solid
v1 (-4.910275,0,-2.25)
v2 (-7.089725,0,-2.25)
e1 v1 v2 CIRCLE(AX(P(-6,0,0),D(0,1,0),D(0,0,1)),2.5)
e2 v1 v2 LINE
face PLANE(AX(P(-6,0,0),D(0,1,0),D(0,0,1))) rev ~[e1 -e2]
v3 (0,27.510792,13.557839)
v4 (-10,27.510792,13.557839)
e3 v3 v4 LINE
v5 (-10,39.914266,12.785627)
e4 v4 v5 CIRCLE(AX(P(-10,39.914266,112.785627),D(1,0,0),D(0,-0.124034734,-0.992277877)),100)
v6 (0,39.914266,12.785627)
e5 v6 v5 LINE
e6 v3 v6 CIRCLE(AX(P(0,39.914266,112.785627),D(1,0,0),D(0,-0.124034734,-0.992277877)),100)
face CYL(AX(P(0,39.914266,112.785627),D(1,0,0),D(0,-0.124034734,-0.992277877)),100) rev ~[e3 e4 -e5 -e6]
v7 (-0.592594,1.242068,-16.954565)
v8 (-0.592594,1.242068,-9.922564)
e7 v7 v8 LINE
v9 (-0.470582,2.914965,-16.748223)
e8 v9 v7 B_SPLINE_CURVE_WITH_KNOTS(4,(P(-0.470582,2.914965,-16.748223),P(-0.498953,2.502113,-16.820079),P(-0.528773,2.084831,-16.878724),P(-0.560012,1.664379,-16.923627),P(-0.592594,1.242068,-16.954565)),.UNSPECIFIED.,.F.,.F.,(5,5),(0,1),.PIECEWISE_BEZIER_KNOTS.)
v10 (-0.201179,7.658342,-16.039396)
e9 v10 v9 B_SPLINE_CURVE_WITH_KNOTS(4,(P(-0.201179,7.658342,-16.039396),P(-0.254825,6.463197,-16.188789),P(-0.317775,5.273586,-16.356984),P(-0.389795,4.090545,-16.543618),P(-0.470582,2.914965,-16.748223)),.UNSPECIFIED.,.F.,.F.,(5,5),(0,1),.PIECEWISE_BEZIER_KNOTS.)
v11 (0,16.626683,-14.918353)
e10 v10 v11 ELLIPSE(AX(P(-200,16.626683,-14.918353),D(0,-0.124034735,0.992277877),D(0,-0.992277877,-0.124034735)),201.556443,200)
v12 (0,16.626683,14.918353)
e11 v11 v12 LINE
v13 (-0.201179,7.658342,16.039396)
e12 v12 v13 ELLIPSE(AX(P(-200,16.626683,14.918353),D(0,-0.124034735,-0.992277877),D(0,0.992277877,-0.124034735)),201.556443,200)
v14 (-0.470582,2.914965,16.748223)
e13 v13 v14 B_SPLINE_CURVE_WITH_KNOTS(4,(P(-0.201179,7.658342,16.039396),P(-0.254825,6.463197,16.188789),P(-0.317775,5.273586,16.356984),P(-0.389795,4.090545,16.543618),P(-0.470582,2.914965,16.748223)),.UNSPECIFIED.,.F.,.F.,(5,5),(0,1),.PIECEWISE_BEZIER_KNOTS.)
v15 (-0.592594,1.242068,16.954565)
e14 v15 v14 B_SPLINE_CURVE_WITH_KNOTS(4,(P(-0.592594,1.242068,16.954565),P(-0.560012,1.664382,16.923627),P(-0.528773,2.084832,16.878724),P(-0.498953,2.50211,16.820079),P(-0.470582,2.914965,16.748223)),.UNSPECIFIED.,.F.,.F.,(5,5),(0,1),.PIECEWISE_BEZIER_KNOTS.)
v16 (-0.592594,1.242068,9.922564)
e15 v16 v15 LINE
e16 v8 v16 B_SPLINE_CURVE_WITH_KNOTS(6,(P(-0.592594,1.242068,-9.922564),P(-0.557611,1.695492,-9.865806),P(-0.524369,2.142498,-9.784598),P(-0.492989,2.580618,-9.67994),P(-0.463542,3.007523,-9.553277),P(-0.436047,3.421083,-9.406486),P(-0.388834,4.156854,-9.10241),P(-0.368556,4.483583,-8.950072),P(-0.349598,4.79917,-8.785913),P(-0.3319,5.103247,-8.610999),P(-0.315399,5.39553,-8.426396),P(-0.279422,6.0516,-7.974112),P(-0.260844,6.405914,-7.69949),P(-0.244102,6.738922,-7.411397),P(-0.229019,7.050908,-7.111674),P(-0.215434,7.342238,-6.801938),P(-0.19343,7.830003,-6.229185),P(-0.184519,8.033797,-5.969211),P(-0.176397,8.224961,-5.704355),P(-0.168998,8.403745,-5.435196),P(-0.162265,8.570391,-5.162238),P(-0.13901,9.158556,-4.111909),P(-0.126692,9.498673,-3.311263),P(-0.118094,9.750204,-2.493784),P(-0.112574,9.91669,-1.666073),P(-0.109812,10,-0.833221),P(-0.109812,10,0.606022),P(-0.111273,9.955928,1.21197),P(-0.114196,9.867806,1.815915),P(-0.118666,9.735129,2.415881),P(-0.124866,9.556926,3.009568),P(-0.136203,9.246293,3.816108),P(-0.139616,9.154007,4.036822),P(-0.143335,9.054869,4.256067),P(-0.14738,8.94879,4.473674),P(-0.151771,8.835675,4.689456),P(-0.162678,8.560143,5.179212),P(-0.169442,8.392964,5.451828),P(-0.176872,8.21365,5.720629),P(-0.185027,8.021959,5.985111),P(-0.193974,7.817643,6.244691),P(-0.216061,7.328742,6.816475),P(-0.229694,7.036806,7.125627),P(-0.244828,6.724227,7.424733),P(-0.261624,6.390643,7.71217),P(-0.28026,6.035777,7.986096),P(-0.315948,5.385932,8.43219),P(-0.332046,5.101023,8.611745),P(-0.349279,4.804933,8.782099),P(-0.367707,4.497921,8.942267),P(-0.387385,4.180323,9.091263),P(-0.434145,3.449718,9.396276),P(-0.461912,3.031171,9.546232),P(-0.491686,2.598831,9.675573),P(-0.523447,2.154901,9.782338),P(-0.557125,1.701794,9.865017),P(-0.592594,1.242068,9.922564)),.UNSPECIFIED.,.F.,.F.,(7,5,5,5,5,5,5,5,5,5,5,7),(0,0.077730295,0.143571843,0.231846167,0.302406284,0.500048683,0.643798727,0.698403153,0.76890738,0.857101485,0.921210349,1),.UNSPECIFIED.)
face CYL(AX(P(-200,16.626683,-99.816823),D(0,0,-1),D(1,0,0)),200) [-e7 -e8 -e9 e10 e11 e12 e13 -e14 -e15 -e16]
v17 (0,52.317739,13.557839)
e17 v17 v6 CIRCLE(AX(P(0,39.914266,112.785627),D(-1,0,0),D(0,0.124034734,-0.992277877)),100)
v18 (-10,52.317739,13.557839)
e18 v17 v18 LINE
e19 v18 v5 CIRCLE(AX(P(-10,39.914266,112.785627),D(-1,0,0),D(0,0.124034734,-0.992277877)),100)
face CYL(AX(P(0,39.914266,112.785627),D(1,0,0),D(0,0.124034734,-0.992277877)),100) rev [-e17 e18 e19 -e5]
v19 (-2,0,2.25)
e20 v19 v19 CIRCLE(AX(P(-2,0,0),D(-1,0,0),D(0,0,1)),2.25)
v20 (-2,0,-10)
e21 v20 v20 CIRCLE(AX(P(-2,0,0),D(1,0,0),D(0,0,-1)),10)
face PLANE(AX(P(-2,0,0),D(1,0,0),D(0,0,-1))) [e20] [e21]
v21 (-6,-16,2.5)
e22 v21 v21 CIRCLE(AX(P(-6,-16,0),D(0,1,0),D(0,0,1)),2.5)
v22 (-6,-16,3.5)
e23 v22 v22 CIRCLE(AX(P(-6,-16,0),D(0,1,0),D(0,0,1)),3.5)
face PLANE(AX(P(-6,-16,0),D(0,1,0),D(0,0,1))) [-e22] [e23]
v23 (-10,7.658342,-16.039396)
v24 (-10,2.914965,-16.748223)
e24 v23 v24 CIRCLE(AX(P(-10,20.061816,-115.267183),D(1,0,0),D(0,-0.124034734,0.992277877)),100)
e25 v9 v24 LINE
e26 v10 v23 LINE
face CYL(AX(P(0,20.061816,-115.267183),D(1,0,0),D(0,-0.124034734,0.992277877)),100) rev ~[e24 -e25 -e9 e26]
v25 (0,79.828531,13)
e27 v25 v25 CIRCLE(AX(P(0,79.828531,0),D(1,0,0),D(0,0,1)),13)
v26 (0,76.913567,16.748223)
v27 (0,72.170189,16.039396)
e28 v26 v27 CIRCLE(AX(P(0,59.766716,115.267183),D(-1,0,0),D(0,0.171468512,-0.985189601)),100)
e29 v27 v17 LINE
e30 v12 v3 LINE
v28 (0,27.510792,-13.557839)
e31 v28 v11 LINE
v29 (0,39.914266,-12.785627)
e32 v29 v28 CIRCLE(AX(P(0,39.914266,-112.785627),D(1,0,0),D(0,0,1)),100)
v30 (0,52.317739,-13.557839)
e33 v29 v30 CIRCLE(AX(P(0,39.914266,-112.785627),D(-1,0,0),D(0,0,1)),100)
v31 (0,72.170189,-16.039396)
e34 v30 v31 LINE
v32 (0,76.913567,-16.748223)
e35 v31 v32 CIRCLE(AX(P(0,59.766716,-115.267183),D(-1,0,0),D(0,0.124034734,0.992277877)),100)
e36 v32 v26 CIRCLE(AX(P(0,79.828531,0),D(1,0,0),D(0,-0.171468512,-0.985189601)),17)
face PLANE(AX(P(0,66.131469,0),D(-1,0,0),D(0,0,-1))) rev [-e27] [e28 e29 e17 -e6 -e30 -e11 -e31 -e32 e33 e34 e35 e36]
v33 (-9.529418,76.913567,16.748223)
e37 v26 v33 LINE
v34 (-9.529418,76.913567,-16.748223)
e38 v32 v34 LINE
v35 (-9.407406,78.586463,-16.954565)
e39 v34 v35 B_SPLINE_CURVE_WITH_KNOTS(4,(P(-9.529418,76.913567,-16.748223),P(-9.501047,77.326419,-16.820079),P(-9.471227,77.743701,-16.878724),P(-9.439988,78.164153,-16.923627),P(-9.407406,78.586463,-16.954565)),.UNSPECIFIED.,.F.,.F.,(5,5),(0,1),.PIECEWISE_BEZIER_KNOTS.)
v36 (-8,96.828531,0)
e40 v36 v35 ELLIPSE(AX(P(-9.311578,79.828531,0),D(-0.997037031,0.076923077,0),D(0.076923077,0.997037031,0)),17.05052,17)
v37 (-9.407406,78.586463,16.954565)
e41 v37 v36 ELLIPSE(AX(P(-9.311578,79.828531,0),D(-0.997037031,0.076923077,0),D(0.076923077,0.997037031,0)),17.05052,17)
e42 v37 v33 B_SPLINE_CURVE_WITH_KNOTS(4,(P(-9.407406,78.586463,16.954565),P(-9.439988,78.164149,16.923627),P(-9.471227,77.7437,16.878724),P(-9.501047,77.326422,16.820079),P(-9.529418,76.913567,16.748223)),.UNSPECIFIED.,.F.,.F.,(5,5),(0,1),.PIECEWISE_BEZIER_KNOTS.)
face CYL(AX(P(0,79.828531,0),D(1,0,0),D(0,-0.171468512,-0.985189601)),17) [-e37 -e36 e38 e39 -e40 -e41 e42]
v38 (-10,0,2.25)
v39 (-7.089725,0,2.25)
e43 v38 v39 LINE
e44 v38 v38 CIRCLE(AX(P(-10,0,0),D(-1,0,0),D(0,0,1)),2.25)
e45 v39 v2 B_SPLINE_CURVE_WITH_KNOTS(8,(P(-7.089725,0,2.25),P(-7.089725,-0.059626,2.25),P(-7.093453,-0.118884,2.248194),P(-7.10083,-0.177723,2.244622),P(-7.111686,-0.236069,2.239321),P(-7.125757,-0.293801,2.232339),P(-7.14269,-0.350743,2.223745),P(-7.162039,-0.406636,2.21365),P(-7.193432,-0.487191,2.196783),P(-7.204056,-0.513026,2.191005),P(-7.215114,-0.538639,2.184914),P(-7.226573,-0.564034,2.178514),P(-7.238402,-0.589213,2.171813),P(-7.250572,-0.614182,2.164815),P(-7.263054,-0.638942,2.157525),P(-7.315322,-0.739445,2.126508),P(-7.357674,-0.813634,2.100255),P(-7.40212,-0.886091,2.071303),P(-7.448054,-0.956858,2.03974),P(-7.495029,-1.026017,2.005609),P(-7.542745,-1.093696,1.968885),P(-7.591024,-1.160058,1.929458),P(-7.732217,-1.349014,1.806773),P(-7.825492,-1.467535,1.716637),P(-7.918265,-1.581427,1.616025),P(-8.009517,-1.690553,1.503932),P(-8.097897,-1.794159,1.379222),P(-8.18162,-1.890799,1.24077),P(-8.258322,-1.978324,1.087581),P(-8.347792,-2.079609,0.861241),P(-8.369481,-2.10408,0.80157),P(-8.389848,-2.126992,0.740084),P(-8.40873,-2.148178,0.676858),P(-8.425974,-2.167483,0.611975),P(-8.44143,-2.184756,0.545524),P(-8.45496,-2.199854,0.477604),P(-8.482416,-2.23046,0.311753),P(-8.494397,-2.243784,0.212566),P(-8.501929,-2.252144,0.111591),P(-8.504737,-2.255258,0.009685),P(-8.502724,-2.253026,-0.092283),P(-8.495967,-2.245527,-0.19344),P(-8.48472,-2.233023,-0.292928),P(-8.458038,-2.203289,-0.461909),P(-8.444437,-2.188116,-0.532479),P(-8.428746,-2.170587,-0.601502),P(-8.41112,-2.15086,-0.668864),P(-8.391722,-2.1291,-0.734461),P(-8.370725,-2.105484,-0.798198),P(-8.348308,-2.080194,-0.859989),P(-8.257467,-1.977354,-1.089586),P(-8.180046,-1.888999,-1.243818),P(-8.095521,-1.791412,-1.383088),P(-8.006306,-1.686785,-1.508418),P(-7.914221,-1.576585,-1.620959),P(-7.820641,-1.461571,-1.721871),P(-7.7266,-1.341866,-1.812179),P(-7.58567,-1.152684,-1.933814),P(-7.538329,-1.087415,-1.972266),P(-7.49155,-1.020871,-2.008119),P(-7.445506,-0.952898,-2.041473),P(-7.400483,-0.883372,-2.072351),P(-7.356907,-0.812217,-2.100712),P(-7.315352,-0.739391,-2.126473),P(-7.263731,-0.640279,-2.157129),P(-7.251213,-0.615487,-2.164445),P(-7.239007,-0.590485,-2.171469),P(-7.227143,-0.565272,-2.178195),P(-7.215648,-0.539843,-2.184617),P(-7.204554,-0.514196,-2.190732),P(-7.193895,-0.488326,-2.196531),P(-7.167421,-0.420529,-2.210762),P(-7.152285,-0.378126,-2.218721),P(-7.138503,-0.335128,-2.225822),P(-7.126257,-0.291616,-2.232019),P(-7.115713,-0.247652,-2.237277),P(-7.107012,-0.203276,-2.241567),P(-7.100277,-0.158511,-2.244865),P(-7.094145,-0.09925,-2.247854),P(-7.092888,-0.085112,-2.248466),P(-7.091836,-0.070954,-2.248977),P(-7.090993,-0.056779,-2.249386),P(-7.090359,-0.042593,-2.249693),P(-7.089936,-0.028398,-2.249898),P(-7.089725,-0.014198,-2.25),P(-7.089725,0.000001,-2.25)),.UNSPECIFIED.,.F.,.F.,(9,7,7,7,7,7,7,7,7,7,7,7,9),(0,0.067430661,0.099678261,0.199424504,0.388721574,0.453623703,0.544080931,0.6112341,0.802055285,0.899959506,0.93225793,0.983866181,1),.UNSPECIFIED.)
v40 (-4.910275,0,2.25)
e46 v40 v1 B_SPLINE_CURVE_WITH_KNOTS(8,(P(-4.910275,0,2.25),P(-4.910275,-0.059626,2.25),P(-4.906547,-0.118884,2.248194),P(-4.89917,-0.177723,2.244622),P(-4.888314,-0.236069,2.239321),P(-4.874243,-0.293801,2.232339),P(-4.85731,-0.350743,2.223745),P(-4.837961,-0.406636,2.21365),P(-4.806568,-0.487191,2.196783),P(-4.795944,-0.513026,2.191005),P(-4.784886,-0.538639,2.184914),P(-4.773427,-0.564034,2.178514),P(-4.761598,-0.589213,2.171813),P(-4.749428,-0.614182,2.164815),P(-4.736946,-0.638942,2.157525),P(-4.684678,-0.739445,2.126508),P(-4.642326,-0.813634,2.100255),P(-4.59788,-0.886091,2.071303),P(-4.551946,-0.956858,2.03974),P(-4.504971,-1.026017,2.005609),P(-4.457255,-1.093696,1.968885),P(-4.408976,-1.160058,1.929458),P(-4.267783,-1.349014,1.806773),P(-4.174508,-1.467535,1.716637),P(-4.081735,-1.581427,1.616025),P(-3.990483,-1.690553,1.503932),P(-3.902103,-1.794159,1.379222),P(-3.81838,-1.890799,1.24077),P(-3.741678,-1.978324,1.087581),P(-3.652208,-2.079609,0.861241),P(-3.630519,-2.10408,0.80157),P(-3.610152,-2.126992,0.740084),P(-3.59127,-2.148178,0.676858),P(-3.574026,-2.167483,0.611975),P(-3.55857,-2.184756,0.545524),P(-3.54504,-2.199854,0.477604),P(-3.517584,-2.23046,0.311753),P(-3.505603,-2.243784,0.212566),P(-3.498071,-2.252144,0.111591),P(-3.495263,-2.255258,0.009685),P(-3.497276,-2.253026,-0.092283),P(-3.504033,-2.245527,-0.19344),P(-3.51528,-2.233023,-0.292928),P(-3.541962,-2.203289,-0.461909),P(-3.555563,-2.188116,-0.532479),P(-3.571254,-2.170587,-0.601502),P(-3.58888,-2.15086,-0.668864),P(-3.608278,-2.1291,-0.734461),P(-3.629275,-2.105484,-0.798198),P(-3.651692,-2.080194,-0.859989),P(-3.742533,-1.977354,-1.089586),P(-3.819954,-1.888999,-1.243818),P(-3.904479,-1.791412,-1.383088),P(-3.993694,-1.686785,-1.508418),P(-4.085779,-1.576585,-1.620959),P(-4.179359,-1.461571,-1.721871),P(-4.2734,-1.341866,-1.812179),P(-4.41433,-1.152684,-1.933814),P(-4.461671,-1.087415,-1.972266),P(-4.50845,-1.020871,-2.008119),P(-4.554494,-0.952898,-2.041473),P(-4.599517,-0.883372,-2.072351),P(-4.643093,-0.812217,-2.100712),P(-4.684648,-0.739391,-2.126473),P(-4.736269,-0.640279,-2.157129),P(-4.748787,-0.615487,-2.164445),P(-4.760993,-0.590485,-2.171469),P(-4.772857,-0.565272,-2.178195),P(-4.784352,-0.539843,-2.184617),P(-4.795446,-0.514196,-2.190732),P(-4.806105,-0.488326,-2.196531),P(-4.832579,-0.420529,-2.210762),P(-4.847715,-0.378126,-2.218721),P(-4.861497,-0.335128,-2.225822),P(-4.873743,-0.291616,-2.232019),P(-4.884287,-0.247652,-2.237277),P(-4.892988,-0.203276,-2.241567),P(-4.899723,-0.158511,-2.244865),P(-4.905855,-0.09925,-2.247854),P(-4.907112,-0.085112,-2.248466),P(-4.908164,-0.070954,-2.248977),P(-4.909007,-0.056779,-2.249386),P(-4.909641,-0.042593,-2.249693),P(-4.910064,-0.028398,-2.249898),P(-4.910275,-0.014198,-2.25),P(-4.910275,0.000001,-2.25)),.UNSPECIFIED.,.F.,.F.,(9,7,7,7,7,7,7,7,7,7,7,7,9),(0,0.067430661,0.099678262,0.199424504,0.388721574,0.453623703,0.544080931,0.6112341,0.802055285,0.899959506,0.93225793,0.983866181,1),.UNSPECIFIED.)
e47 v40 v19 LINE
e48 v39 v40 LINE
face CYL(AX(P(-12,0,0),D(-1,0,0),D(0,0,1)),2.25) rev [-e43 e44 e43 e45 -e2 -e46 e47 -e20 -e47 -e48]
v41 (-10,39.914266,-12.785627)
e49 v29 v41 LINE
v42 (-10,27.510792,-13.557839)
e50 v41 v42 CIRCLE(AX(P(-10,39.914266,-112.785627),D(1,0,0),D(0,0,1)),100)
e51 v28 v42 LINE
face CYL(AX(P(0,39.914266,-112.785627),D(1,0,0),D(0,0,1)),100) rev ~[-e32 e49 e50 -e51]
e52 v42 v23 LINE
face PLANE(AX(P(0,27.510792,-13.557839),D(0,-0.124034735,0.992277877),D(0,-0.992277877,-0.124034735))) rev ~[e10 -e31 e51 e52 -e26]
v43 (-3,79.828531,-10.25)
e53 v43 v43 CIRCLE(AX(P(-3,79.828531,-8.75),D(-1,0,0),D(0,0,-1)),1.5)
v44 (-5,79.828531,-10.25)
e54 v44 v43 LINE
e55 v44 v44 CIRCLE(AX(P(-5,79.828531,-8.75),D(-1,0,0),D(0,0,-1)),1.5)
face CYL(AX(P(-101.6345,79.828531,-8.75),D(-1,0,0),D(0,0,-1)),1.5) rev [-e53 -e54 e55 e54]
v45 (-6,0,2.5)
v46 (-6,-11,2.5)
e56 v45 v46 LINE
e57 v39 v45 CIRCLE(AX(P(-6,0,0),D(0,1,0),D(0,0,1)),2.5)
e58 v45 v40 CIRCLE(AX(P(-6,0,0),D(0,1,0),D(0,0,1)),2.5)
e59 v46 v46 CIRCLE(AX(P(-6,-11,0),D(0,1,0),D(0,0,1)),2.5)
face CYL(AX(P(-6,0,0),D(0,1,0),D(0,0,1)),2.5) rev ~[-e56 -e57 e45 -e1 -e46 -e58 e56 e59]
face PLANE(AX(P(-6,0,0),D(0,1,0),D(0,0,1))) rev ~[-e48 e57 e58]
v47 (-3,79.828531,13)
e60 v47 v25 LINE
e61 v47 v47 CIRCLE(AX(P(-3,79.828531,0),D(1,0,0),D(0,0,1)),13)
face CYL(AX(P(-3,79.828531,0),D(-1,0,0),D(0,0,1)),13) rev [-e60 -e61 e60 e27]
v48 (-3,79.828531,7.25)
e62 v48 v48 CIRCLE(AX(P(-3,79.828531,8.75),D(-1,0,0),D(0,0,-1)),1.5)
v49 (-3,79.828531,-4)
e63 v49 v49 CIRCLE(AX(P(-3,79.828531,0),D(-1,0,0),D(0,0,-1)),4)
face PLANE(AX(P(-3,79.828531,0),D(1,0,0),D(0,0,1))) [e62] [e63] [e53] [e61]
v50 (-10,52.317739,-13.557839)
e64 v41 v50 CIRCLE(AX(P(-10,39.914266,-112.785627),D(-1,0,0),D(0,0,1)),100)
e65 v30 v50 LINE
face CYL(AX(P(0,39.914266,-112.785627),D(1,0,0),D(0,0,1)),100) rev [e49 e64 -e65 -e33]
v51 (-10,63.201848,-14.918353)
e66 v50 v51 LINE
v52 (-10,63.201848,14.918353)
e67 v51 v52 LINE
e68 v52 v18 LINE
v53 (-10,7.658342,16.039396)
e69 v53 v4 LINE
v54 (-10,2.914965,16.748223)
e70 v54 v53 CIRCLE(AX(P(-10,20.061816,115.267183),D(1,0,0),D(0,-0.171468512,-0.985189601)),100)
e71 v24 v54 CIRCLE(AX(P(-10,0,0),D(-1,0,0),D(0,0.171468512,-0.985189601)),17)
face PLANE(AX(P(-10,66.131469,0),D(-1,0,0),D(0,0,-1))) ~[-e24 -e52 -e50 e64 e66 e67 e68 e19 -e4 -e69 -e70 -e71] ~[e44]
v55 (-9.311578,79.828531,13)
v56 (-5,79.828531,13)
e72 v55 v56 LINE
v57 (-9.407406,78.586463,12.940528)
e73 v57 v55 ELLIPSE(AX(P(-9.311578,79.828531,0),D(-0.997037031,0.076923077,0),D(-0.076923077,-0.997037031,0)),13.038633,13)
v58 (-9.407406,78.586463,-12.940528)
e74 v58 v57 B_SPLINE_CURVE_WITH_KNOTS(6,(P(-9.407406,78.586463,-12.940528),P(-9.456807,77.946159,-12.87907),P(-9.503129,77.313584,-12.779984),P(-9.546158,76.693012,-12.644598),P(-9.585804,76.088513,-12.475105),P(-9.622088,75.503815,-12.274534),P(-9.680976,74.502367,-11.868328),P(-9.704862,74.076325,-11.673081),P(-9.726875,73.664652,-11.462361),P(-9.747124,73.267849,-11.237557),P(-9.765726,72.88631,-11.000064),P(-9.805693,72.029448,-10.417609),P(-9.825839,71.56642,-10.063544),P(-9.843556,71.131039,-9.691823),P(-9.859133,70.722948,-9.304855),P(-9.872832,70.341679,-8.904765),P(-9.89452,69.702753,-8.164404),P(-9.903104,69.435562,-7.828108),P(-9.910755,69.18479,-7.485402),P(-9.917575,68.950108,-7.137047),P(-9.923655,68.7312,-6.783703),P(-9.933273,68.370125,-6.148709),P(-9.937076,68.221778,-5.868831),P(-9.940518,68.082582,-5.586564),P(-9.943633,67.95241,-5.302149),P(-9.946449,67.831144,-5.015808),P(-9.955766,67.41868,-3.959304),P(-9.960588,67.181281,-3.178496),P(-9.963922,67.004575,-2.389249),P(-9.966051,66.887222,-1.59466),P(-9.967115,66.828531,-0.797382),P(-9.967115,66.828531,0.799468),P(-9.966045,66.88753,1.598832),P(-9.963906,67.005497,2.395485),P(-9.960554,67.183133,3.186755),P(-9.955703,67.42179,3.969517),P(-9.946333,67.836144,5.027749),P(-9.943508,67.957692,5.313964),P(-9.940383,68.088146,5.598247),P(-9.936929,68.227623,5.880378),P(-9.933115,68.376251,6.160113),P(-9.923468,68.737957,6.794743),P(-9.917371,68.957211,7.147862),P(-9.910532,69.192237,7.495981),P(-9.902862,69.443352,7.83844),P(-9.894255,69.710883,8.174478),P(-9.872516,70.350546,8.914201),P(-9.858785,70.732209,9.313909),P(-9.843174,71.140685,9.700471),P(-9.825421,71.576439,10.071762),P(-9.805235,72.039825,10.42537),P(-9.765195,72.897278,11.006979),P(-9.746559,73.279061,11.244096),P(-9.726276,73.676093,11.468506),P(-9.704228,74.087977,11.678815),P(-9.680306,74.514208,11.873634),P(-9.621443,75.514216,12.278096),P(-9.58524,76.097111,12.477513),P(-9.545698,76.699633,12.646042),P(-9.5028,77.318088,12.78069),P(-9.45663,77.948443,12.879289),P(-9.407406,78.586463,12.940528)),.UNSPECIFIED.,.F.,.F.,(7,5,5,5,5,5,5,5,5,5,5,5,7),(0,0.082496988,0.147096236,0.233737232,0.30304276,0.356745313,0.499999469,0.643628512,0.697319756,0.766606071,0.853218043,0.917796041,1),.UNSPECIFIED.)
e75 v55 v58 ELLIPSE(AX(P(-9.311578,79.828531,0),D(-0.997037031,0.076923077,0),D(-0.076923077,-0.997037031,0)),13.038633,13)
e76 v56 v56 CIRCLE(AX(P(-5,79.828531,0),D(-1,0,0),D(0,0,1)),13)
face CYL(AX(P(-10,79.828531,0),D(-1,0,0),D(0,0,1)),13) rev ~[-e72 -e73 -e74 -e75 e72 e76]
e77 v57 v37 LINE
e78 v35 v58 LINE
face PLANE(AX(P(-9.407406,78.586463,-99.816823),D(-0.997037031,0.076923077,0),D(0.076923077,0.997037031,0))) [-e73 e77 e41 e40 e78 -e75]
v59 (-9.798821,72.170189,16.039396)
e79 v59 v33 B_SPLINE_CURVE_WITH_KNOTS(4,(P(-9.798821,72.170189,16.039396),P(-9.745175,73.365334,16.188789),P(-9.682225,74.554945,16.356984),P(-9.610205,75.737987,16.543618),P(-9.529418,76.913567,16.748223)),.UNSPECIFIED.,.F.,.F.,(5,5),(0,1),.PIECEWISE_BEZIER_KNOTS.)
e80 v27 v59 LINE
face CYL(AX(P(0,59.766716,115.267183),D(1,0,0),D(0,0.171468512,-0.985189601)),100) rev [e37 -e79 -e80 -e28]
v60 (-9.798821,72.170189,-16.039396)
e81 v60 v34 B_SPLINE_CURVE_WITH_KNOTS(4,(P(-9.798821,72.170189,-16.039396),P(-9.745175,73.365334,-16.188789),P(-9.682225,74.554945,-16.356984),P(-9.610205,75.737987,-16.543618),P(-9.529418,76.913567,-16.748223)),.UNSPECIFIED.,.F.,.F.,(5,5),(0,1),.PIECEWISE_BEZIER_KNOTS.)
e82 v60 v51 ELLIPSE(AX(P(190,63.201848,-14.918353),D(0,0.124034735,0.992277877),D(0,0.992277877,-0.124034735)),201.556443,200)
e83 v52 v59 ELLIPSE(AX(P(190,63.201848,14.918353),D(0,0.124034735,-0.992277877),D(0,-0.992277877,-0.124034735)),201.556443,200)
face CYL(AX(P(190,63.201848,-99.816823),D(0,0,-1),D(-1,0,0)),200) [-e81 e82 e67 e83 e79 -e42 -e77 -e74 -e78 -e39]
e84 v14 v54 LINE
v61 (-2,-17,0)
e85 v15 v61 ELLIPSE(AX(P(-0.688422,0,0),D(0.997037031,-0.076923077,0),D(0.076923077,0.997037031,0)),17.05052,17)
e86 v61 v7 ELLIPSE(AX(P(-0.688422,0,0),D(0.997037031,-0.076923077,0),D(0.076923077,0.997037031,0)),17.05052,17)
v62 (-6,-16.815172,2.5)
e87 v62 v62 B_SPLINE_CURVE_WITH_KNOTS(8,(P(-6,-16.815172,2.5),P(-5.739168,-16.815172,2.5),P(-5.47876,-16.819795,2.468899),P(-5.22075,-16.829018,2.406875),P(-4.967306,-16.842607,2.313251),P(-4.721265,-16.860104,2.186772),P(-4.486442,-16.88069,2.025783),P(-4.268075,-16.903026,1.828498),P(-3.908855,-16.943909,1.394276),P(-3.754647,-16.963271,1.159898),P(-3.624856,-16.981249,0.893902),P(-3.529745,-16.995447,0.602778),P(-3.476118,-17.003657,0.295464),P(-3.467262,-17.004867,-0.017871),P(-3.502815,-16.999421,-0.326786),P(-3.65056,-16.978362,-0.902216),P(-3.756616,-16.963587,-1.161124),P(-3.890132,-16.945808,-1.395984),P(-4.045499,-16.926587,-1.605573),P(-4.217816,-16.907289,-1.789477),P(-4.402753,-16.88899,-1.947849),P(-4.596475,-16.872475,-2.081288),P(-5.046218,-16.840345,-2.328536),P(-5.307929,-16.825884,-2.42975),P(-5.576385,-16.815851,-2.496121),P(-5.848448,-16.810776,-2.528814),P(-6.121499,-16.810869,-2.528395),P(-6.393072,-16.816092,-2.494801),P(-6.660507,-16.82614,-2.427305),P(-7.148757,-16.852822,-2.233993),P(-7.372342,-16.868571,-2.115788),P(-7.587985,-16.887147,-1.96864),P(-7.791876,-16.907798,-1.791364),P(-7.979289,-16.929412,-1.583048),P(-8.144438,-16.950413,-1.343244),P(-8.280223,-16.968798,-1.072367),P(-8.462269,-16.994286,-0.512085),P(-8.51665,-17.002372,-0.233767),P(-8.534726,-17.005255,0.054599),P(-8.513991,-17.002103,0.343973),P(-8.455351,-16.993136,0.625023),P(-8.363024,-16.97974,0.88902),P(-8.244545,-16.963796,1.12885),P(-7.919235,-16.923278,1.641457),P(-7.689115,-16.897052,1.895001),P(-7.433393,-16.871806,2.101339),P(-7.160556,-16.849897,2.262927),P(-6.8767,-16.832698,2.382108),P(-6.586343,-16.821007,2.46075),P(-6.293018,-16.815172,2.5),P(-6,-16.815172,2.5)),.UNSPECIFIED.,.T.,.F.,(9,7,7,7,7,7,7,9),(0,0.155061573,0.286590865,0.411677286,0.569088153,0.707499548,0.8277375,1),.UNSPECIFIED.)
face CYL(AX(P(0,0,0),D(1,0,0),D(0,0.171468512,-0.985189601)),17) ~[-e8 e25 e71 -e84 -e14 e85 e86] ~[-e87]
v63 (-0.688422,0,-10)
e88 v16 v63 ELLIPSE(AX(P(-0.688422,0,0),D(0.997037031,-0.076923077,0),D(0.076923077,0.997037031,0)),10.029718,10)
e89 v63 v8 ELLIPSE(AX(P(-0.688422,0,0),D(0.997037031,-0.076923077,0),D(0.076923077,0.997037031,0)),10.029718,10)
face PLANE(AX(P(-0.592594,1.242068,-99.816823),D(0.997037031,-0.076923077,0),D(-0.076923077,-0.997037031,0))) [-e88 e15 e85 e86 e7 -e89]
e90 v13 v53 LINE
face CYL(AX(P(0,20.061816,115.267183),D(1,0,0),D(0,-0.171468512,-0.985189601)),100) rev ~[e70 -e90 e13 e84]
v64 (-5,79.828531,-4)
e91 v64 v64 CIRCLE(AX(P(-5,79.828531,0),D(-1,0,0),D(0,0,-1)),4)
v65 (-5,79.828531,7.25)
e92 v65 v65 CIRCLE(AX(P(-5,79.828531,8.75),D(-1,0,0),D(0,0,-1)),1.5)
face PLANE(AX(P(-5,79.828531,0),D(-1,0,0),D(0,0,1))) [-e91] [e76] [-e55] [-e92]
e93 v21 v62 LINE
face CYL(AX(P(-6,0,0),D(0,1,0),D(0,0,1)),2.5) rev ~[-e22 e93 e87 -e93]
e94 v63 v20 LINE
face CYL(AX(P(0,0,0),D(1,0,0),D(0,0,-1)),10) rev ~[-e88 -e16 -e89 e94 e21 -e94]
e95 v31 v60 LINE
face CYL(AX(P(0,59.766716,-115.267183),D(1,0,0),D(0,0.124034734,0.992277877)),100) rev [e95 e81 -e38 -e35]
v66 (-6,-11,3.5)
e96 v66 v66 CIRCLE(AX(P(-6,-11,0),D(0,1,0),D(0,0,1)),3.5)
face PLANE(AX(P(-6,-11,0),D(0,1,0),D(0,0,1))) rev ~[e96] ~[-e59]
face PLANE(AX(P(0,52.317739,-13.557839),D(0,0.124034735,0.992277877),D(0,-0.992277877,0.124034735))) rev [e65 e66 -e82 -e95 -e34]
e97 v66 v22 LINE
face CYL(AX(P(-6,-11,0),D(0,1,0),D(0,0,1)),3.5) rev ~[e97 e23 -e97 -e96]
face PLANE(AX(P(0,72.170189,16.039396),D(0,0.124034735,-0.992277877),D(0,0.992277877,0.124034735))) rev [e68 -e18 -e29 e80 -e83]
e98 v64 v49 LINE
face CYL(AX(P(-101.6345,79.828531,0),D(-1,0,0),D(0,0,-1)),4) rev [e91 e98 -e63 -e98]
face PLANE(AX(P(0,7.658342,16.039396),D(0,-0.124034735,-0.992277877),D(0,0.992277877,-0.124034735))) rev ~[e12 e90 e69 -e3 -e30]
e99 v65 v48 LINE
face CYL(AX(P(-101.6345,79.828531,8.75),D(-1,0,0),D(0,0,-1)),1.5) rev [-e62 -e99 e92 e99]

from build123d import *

# Parameters (mm, degrees)
SALIENTE_EXTRUIR1_DEPTH     = 10
CROQUIS3_R                  = 10
CORTAR_EXTRUIR1_DEPTH       = 2
CORTAR_EXTRUIR5_START       = -10
CROQUIS7_R                  = 2.25
CORTAR_EXTRUIR5_DEPTH       = 55.115174372
CROQUIS8_R                  = 2.5
CORTAR_EXTRUIR6_DEPTH       = 19
CORTAR_EXTRUIR19_START      = -11
CROQUIS12_R                 = 3.5
CORTAR_EXTRUIR19_DEPTH      = 5
CORTAR_EXTRUIR20_DEPTH      = 99.634499619
CORTAR_EXTRUIR20_DEPTH_BACK = 99.634499619
CROQUIS13_R                 = 4
CROQUIS13_R_2               = 1.5
CROQUIS17_R                 = 13
CORTAR_EXTRUIR22_DEPTH      = 5
CORTAR_EXTRUIR23_START      = -3
CROQUIS15_R                 = 13
CORTAR_EXTRUIR23_DEPTH      = 3
CORTAR_EXTRUIR24_DEPTH      = 99.816823039
CORTAR_EXTRUIR24_DEPTH_BACK = 99.816823039
CROQUIS18_OUTSIDE_W         = 35.844
CROQUIS18_OUTSIDE_H         = 139.673


with BuildPart() as part:
    # Croquis1 → Saliente-Extruir1 (new body)
    with BuildSketch(Plane(origin=(0, 0, 0), x_dir=(0, 0, -1), z_dir=(1, 0, 0))):
        with BuildLine():
            Line((-16.039395606, 7.658342494), (-13.557839382, 27.510792285))
            ThreePointArc((-13.557839382, 27.510792285), (-12.978866844, 33.700521588), (-12.785627053, 39.914265744))
            Line((-12.785627053, 39.914265744), (12.785627053, 39.914265744))
            ThreePointArc((12.785627053, 39.914265744), (12.978866844, 33.700521588), (13.557839382, 27.510792285))
            Line((13.557839382, 27.510792285), (16.039395606, 7.658342494))
            ThreePointArc((16.039395606, 7.658342494), (16.365368489, 5.282403528), (16.748223211, 2.914964711))
            ThreePointArc((16.748223211, 2.914964711), (0, -17), (-16.748223211, 2.914964711))
            ThreePointArc((-16.748223211, 2.914964711), (-16.365368489, 5.282403528), (-16.039395606, 7.658342494))
        make_face()
    saliente_extruir1 = extrude(amount=-SALIENTE_EXTRUIR1_DEPTH)

    # Croquis3 → Cortar-Extruir1 (cut)
    with BuildSketch(Plane(origin=(0, 0, 0), x_dir=(0, 0, -1), z_dir=(1, 0, 0))):
        Circle(CROQUIS3_R)
    cortar_extruir1 = extrude(amount=-CORTAR_EXTRUIR1_DEPTH, mode=Mode.SUBTRACT)

    # Croquis7 → Cortar-Extruir5 (cut)
    with BuildSketch(Plane(origin=(-2, 0, 0), x_dir=(0, 0, -1), z_dir=(1, 0, 0)).offset(CORTAR_EXTRUIR5_START)):
        with Locations(Location((0, 0, 0), (0, 0, 180))):
            Circle(CROQUIS7_R)
    cortar_extruir5 = extrude(amount=CORTAR_EXTRUIR5_DEPTH, mode=Mode.SUBTRACT)

    # Croquis8 → Cortar-Extruir6 (cut)
    with BuildSketch(Plane(origin=(0, 0, 0), x_dir=(1, 0, 0), z_dir=(0, 1, 0))):
        with Locations(Location((-6, 0, 0), (0, 0, 270))):
            Circle(CROQUIS8_R)
    extrude(amount=-CORTAR_EXTRUIR6_DEPTH, mode=Mode.SUBTRACT)

    # Croquis12 → Cortar-Extruir19 (cut)
    with BuildSketch(Plane(origin=(0, 0, 0), x_dir=(1, 0, 0), z_dir=(0, 1, 0)).offset(CORTAR_EXTRUIR19_START)):
        with Locations(Location((-6, 0, 0), (0, 0, 270))):
            Circle(CROQUIS12_R)
    extrude(amount=-CORTAR_EXTRUIR19_DEPTH, mode=Mode.SUBTRACT)

    # Simetría1: Saliente-Extruir1, Cortar-Extruir1, Cortar-Extruir5 across plane
    add(saliente_extruir1.mirror(Plane(origin=(-10, 39.914265744, 12.785627053), x_dir=(0, 0, 1), z_dir=(0, 1, 0))))
    add(cortar_extruir1.mirror(Plane(origin=(-10, 39.914265744, 12.785627053), x_dir=(0, 0, 1), z_dir=(0, 1, 0))), mode=Mode.SUBTRACT)
    add(cortar_extruir5.mirror(Plane(origin=(-10, 39.914265744, 12.785627053), x_dir=(0, 0, 1), z_dir=(0, 1, 0))), mode=Mode.SUBTRACT)

    # Croquis13 → Cortar-Extruir20 (cut, two sides: drawn at the far end of the back side and taken through both)
    with BuildSketch(Plane(origin=(-2, 0, 0), x_dir=(0, 0, -1), z_dir=(1, 0, 0)).offset(-CORTAR_EXTRUIR20_DEPTH_BACK)):
        with Locations((0, 79.828531488)):
            Circle(CROQUIS13_R)
        with Locations((8.75, 79.828531488)):
            Circle(CROQUIS13_R_2)
        with Locations((-8.75, 79.828531488)):
            Circle(CROQUIS13_R_2)
    extrude(amount=CORTAR_EXTRUIR20_DEPTH + CORTAR_EXTRUIR20_DEPTH_BACK, mode=Mode.SUBTRACT)

    # Croquis17 → Cortar-Extruir22 (cut)
    with BuildSketch(Plane.ZY.offset(10)):
        with Locations((0, 79.828531488)):
            Circle(CROQUIS17_R)
    extrude(amount=-CORTAR_EXTRUIR22_DEPTH, mode=Mode.SUBTRACT)

    # Croquis15 → Cortar-Extruir23 (cut)
    with BuildSketch(Plane(origin=(0, 0, 0), x_dir=(0, 0, -1), z_dir=(1, 0, 0)).offset(CORTAR_EXTRUIR23_START)):
        with Locations(Location((0, 79.828531488, 0), (0, 0, 180))):
            Circle(CROQUIS15_R)
    extrude(amount=CORTAR_EXTRUIR23_DEPTH, mode=Mode.SUBTRACT)

    # Croquis18 outside → Cortar-Extruir24 (cut, two sides: drawn at the far end of the back side and taken through both)
    with BuildSketch(Plane.XY.offset(-CORTAR_EXTRUIR24_DEPTH_BACK)):
        with Locations((-5, 39.9145)):
            Rectangle(CROQUIS18_OUTSIDE_W, CROQUIS18_OUTSIDE_H)
        with BuildLine():
            Line((-8, 96.828531488), (0, 96.828531488))
            Line((0, 96.828531488), (0, 16.62668343))
            ThreePointArc((0, 16.62668343), (-0.148203384, 8.928671381), (-0.592593895, 1.242068046))
            Line((-0.592593895, 1.242068046), (-2, -17))
            Line((-2, -17), (-10, -17))
            Line((-10, -17), (-10, 63.201848057))
            ThreePointArc((-10, 63.201848057), (-9.851796616, 70.899860107), (-9.407406105, 78.586463442))
            Line((-9.407406105, 78.586463442), (-8, 96.828531488))
        make_face(mode=Mode.SUBTRACT)
    extrude(amount=CORTAR_EXTRUIR24_DEPTH + CORTAR_EXTRUIR24_DEPTH_BACK, mode=Mode.SUBTRACT)


solid = part.part
